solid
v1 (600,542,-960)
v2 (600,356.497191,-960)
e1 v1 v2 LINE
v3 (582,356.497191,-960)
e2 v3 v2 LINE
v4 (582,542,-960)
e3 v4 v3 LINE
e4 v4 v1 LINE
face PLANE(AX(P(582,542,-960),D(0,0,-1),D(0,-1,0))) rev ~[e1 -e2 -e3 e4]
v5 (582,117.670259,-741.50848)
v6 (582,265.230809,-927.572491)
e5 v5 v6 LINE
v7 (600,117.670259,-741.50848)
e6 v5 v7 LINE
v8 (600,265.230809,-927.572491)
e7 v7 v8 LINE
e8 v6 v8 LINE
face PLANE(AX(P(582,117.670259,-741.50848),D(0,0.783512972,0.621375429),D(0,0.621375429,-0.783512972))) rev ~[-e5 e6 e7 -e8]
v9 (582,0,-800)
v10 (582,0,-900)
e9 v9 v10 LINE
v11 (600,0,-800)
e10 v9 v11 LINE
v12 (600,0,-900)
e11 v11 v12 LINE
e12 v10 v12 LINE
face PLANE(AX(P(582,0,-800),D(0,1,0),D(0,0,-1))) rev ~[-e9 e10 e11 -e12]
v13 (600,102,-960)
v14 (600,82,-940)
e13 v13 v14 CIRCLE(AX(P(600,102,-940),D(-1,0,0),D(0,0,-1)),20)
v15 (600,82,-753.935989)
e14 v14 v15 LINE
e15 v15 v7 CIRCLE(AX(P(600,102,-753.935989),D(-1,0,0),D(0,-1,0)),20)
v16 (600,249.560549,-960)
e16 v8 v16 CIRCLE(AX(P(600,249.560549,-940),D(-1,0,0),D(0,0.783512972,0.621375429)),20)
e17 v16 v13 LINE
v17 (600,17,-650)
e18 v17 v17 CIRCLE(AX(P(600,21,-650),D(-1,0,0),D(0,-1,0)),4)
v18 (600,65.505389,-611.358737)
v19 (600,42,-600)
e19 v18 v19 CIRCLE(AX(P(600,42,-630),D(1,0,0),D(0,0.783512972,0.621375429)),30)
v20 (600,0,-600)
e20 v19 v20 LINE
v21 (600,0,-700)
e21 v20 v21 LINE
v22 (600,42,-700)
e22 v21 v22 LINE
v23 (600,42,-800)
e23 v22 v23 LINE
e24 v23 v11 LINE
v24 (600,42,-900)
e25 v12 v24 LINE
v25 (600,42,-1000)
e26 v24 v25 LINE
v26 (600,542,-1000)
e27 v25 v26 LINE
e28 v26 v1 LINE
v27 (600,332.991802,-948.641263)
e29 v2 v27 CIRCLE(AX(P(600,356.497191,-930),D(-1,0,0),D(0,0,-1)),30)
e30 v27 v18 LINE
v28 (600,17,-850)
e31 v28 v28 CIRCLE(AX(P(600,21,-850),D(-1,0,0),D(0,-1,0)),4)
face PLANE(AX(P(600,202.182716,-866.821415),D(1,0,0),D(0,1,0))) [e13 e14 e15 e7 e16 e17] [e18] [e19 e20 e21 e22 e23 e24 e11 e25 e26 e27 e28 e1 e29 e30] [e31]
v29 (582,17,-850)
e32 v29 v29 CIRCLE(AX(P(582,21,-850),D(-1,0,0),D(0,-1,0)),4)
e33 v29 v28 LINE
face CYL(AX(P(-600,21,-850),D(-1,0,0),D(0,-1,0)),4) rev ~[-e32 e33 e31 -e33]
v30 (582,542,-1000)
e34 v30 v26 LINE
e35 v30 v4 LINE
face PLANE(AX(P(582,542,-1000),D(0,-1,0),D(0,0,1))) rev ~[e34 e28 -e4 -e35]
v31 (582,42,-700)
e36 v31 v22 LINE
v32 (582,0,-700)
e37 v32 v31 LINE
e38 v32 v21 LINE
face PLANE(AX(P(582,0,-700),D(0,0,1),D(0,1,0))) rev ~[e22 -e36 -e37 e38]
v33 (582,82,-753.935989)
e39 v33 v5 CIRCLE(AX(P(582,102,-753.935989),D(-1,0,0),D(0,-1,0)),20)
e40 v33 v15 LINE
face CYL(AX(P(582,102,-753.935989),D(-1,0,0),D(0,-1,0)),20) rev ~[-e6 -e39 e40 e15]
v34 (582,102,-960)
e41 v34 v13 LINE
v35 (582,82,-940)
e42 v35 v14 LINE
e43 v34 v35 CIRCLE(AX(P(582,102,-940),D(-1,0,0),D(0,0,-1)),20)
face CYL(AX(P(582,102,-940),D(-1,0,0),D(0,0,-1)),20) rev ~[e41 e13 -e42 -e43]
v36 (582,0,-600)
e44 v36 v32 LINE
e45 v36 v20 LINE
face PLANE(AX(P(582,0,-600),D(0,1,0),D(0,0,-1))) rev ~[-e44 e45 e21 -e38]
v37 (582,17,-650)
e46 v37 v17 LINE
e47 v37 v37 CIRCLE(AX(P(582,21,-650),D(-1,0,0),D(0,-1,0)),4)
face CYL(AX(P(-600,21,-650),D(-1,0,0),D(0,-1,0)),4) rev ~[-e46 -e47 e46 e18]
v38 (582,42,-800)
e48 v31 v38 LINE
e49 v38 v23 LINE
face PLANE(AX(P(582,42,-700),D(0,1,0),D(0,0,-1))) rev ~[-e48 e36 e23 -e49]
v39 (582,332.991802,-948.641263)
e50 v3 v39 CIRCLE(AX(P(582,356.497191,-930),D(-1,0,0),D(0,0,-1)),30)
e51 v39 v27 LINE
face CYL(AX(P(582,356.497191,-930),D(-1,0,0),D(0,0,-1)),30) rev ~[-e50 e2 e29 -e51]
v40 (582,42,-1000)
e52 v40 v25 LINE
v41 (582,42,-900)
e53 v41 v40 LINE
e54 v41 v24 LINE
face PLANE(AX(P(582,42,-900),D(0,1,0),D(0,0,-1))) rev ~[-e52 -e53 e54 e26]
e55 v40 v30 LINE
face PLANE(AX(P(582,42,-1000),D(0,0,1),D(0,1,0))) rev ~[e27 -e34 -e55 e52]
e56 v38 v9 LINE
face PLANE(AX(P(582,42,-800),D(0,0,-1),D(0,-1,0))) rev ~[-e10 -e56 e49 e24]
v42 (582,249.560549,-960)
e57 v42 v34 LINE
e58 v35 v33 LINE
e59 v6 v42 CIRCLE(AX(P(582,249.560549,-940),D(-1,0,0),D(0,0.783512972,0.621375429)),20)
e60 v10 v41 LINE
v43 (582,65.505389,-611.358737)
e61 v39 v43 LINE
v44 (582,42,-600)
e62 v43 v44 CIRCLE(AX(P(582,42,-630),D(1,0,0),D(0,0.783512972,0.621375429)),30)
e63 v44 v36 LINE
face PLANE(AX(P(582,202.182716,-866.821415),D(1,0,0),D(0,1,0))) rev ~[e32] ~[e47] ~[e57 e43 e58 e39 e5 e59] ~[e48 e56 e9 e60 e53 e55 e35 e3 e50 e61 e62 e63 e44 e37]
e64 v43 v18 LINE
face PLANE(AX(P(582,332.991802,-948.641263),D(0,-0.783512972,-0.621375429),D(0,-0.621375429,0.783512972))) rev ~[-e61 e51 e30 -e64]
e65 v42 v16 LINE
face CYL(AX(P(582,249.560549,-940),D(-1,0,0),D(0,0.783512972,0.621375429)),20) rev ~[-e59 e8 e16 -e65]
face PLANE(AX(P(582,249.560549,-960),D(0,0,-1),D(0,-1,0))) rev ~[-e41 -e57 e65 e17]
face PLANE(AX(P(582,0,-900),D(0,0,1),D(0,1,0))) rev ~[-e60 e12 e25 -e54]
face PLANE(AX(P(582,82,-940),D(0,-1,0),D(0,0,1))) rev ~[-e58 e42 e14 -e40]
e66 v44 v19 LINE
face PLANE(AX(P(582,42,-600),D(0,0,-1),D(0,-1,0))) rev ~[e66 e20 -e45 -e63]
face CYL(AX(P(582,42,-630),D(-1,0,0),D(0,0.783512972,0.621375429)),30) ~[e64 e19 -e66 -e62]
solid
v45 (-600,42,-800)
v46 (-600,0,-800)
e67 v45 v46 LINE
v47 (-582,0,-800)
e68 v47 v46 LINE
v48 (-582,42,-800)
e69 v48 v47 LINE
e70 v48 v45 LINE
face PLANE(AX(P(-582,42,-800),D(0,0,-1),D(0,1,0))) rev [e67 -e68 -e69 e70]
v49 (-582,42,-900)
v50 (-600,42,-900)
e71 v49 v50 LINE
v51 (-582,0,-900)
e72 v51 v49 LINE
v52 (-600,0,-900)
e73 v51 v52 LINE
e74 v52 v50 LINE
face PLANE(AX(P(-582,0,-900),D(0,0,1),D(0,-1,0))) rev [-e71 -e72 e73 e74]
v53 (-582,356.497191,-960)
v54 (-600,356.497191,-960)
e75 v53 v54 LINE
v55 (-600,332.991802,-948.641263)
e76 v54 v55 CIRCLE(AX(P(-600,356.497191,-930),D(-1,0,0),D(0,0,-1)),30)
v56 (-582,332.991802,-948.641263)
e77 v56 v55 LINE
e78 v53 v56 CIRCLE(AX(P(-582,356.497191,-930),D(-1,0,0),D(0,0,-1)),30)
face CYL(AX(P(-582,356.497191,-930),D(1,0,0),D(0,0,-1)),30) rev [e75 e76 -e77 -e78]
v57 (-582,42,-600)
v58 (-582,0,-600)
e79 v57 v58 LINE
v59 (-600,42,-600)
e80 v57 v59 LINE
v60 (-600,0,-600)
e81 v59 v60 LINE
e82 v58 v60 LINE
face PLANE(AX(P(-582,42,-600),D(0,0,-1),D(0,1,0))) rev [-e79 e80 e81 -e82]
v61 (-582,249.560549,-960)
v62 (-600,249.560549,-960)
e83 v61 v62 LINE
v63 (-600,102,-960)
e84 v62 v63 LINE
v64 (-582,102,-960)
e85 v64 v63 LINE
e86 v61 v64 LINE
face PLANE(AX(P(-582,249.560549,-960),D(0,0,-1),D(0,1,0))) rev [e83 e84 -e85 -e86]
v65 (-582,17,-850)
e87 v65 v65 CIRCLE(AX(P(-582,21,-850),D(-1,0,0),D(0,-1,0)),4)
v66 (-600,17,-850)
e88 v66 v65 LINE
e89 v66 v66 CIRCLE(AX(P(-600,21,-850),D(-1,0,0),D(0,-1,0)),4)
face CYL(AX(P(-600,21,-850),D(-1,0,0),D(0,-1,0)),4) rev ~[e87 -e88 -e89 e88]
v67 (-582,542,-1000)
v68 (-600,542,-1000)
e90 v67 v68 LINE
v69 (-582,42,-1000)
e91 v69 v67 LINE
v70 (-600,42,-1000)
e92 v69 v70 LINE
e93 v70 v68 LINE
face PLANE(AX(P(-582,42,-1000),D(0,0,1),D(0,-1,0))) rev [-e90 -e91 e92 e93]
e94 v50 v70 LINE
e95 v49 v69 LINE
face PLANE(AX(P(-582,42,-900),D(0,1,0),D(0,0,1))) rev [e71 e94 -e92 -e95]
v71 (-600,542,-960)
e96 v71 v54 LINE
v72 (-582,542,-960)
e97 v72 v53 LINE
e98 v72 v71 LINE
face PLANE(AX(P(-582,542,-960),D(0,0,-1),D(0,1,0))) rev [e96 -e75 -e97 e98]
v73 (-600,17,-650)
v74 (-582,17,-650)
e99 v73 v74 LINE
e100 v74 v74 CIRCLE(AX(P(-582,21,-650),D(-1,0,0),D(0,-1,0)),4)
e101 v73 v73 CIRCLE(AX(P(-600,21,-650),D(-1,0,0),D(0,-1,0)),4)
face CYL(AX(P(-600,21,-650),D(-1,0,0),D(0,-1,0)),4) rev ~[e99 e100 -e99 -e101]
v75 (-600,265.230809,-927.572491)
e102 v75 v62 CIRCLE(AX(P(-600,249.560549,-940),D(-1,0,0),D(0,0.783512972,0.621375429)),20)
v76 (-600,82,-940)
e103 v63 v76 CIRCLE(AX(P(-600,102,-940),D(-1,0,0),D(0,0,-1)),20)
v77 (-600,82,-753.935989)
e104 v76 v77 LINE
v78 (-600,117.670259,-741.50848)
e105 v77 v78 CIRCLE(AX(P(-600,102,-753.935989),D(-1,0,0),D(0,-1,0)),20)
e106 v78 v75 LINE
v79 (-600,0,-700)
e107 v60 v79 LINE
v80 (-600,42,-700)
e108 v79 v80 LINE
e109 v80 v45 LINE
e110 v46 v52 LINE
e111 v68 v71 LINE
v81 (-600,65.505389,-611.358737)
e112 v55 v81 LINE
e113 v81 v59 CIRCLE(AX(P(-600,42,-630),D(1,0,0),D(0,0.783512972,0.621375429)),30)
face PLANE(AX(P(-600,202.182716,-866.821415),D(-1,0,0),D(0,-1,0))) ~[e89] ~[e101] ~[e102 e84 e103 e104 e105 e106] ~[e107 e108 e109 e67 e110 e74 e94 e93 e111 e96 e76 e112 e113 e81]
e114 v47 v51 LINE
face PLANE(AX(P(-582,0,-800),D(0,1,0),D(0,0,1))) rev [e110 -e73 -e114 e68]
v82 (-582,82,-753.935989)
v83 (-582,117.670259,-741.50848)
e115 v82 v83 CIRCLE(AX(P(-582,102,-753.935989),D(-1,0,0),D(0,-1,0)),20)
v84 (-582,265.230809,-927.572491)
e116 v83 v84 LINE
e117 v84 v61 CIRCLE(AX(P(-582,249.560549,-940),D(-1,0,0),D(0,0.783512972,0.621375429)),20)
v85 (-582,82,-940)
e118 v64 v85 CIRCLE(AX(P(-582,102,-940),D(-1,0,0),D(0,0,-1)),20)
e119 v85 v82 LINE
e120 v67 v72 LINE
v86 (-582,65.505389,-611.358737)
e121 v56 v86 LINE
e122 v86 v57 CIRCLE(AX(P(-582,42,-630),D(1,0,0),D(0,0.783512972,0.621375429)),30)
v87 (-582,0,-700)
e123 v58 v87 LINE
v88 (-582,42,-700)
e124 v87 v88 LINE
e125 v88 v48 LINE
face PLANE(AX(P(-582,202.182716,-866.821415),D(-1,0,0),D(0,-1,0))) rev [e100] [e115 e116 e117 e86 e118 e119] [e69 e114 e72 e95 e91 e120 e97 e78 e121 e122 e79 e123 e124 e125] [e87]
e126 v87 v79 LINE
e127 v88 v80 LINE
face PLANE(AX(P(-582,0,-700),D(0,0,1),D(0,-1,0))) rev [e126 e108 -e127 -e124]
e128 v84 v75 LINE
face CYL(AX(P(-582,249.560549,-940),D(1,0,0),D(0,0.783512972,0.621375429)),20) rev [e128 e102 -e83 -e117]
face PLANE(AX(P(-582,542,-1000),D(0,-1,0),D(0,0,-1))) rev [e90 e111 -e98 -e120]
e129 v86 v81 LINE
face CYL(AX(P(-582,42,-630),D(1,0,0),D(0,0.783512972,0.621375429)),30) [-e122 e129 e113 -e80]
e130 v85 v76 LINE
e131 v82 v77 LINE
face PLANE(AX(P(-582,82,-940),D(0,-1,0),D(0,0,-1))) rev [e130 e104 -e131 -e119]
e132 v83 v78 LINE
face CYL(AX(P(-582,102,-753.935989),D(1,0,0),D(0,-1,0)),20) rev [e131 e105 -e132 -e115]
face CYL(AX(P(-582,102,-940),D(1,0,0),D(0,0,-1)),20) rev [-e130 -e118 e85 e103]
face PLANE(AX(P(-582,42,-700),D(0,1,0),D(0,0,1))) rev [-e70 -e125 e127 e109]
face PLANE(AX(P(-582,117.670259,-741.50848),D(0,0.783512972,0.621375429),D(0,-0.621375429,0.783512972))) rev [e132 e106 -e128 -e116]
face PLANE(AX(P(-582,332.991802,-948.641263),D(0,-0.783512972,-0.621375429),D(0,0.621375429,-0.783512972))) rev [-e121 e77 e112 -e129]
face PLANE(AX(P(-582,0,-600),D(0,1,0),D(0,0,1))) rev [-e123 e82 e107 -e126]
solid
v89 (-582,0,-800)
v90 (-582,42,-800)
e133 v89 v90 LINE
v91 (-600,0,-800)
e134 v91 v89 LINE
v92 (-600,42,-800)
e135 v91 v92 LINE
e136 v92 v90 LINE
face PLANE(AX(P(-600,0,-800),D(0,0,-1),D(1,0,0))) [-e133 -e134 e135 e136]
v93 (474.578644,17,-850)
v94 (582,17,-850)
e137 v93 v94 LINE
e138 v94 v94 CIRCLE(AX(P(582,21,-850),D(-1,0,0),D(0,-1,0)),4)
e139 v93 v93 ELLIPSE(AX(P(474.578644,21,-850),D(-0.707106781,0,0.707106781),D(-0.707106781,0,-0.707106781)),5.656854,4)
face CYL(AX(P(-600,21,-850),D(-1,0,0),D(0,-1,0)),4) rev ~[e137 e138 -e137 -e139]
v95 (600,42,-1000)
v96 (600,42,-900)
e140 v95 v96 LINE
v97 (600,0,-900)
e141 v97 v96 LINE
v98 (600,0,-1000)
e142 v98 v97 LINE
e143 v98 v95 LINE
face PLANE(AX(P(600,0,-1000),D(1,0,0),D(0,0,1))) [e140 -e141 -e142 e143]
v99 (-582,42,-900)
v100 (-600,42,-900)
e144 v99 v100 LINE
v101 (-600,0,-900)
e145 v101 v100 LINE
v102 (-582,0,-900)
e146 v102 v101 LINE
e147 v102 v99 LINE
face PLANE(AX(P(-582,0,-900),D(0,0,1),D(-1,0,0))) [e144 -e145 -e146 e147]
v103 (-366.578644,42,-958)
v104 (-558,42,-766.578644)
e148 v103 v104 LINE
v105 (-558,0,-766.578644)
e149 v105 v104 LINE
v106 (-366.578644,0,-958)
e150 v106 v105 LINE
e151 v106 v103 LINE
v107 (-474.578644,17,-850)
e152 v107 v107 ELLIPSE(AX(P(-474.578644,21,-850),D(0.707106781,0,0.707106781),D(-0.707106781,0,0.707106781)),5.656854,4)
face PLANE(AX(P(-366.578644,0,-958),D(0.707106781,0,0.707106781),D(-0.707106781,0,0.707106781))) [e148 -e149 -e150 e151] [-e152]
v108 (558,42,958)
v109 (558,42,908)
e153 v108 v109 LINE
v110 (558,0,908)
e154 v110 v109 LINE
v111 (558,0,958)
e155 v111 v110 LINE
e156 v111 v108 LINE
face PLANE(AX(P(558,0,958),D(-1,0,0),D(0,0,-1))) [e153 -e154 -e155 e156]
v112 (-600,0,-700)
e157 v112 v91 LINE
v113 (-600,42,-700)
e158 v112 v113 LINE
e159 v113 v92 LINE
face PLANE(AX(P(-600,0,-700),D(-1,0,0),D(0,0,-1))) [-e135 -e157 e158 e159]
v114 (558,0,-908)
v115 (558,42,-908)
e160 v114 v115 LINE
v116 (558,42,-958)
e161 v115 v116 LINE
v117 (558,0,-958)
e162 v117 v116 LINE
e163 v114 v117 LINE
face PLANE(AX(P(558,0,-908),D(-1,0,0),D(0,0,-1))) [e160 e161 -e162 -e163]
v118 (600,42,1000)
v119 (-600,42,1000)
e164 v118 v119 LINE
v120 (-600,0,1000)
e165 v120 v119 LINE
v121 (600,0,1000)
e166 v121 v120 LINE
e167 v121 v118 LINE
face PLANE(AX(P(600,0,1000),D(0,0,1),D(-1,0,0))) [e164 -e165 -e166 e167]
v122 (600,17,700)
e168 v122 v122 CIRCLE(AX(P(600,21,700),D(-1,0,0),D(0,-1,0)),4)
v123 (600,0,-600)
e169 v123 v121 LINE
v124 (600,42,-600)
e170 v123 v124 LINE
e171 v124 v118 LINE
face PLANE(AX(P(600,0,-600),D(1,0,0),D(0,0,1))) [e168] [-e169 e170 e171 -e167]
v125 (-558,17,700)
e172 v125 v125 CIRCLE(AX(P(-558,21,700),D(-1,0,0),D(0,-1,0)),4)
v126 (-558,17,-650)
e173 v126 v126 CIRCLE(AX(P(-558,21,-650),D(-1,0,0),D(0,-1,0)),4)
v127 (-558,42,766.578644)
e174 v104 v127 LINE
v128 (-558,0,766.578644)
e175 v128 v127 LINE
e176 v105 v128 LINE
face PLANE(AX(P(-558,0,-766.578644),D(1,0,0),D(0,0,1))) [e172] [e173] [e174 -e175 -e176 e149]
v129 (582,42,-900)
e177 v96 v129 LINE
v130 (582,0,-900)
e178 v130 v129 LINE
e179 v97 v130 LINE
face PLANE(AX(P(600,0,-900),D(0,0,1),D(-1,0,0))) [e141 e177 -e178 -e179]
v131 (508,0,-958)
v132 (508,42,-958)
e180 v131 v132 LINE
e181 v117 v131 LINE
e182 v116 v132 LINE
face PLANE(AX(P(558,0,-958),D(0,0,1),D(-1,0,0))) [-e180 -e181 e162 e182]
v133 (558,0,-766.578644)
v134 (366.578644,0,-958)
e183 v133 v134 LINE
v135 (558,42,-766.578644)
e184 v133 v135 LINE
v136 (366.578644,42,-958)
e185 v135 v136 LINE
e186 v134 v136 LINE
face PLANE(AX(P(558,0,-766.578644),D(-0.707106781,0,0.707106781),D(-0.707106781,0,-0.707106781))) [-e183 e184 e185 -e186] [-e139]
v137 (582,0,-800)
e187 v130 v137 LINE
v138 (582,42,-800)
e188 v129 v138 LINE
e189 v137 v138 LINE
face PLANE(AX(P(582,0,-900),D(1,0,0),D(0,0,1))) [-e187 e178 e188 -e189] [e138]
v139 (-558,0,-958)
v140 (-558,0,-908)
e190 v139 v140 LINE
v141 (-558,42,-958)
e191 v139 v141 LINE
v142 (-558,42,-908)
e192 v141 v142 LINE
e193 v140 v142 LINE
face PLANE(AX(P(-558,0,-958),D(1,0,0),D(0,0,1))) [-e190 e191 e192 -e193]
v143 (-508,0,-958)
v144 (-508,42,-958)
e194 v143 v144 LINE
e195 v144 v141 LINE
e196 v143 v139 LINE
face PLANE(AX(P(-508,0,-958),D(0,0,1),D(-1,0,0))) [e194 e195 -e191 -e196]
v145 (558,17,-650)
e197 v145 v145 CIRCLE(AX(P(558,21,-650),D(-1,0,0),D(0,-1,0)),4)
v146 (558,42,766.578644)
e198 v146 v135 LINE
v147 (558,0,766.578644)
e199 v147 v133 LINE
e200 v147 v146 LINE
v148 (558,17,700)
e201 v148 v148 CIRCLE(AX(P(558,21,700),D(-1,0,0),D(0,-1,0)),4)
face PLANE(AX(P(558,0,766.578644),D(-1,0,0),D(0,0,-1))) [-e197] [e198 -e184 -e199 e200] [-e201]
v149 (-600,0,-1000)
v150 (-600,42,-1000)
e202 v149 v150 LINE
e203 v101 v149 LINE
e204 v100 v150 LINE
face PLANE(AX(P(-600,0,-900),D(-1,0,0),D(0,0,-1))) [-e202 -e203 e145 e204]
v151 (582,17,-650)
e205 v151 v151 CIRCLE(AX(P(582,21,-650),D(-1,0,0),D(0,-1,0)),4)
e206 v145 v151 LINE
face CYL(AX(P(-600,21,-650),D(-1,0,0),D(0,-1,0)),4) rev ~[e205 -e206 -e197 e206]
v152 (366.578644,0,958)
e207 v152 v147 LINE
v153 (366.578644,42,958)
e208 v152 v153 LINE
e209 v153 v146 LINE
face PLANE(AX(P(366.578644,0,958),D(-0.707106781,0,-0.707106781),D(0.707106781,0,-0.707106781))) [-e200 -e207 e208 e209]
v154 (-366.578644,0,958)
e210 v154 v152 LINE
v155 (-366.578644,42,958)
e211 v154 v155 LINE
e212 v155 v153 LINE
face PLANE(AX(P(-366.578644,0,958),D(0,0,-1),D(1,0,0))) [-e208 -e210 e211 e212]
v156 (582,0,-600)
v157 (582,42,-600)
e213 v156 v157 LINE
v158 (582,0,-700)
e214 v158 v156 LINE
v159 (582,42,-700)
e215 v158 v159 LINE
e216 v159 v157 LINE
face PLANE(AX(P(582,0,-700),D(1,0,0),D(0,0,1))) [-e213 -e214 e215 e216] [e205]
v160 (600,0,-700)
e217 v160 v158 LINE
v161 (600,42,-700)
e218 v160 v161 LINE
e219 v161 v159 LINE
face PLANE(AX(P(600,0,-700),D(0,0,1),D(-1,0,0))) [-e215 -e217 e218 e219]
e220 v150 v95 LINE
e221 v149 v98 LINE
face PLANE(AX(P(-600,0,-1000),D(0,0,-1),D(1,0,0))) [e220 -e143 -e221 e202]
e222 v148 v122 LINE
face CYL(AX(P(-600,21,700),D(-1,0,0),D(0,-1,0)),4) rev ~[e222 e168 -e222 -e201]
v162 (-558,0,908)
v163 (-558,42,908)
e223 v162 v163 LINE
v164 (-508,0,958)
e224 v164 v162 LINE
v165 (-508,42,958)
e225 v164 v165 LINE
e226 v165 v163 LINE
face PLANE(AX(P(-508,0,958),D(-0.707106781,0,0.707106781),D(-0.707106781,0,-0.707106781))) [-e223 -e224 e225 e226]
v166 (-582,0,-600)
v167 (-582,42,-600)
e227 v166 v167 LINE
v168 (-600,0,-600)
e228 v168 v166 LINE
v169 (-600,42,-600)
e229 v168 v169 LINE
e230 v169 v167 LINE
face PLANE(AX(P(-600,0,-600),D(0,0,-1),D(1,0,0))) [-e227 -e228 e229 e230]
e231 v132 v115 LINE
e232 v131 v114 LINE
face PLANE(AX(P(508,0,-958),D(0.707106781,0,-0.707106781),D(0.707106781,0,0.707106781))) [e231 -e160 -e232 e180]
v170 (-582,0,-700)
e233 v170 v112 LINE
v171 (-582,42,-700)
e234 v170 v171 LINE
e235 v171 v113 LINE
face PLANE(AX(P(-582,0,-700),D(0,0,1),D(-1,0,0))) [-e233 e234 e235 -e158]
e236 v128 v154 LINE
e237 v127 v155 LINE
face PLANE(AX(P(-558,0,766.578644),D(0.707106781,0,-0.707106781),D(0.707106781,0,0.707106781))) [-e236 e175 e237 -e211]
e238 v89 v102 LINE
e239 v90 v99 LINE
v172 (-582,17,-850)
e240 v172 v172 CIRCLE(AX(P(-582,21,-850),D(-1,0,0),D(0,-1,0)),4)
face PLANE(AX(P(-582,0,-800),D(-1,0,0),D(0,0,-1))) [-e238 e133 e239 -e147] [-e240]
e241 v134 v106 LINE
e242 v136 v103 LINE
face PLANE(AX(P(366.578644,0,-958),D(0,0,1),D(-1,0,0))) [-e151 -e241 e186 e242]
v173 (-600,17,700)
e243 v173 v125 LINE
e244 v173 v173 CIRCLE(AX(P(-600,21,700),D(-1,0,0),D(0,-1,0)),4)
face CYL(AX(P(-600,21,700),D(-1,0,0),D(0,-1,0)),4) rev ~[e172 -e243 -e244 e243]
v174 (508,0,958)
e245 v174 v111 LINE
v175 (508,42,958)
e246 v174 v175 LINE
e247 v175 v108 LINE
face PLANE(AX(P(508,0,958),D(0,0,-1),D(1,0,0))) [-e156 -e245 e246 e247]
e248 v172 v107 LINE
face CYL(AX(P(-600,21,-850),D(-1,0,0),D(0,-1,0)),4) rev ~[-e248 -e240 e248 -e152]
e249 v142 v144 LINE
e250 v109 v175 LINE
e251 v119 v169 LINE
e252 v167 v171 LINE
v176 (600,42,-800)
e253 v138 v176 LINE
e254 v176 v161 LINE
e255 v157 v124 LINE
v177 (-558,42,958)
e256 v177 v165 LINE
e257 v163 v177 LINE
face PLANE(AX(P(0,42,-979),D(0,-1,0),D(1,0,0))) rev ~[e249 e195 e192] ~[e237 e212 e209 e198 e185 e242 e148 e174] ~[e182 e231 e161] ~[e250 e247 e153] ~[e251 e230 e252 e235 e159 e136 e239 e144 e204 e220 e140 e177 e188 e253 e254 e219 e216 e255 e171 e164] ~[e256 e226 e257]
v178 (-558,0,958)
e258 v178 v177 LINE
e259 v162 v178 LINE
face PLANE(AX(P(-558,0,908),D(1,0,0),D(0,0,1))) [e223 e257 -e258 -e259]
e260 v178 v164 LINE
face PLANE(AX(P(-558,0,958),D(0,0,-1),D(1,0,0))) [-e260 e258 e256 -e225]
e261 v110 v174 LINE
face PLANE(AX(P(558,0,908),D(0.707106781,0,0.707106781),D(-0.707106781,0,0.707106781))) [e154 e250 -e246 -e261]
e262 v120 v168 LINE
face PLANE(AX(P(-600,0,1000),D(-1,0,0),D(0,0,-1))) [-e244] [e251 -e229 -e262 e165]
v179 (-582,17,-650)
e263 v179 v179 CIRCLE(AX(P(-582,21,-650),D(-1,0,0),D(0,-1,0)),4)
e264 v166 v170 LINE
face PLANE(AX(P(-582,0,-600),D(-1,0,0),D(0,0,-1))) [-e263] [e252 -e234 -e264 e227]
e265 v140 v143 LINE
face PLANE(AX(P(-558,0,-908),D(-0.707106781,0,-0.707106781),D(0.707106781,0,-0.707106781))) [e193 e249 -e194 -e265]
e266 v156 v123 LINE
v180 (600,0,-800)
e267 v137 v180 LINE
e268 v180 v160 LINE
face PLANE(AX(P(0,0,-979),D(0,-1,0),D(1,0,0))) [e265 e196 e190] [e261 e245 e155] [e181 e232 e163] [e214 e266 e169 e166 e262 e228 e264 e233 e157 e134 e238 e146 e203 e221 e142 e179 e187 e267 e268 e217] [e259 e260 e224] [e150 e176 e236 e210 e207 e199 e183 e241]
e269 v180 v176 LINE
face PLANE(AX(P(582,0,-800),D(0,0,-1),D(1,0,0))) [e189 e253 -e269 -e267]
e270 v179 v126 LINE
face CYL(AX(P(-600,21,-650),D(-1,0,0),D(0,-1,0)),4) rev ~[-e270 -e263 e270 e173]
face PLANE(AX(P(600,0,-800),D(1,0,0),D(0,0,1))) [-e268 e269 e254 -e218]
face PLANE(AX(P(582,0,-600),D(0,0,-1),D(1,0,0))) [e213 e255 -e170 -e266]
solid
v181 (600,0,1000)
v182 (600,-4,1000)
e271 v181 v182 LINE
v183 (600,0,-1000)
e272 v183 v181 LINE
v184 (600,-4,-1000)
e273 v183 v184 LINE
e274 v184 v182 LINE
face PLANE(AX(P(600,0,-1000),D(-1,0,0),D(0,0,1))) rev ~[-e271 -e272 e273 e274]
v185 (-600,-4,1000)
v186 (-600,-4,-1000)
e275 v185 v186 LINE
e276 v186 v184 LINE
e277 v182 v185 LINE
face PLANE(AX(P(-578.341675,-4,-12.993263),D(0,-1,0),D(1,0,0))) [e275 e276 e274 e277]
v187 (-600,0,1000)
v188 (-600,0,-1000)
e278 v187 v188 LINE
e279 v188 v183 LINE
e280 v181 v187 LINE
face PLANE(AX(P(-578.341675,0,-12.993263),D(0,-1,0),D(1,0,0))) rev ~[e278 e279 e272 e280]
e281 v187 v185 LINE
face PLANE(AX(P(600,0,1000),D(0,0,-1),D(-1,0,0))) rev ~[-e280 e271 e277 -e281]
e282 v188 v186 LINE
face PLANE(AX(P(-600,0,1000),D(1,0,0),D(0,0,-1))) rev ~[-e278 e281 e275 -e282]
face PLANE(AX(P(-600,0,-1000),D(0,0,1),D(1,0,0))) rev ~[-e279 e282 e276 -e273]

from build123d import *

# Parameters (mm, degrees)
F3_W      = 18
F3_H      = 100
F4_DEPTH  = 4
F5_DEPTH  = 42
F8_DEPTH  = 18
F6_R      = 4
F10_DEPTH = 1200


with BuildPart() as f4:
    # F3 (on Front) → F4 (new body)
    with BuildSketch(Plane.XZ):
        Polygon((-600, -900), (-600, -1000), (-558, -1000), (-558, -958), (-558, -908), (-558, -766.5786437627), (-558, 766.5786437627), (-558, 908), (-558, 958), (-558, 1000), (-600, 1000), (-600, -600), (-582, -600), (-582, -700), (-600, -700), (-600, -800), (-582, -800), (-582, -900), align=None)
        Polygon((-558, -958), (-558, -1000), (558, -1000), (558, -958), (508, -958), (366.5786437627, -958), (-366.5786437627, -958), (-508, -958), align=None)
        with Locations((-591, -850)):
            Rectangle(F3_W, F3_H)
        Polygon((558, -958), (558, -1000), (600, -1000), (600, -900), (582, -900), (582, -800), (600, -800), (600, -700), (582, -700), (582, -600), (600, -600), (600, 1000), (558, 1000), (558, 958), (558, 908), (558, 766.5786437627), (558, -766.5786437627), (558, -908), align=None)
        with Locations((-591, -650)):
            Rectangle(F3_W, F3_H)
        with Locations((591, -850)):
            Rectangle(F3_W, F3_H)
        with Locations((591, -650)):
            Rectangle(F3_W, F3_H)
        Polygon((-508, 958), (-366.5786437627, 958), (366.5786437627, 958), (508, 958), (558, 958), (558, 1000), (-558, 1000), (-558, 958), align=None)
        Polygon((-558, 958), (-558, 908), (-508, 958), align=None)
        Polygon((-558, 908), (-558, 766.5786437627), (-366.5786437627, 958), (-508, 958), align=None)
        Polygon((-558, 766.5786437627), (-558, -766.5786437627), (-366.5786437627, -958), (366.5786437627, -958), (558, -766.5786437627), (558, 766.5786437627), (366.5786437627, 958), (-366.5786437627, 958), align=None)
        Polygon((366.5786437627, 958), (558, 766.5786437627), (558, 908), (508, 958), align=None)
        Polygon((508, 958), (558, 908), (558, 958), align=None)
        Polygon((508, -958), (558, -908), (558, -766.5786437627), (366.5786437627, -958), align=None)
        Polygon((508, -958), (558, -958), (558, -908), align=None)
        Polygon((-558, -766.5786437627), (-558, -908), (-508, -958), (-366.5786437627, -958), align=None)
        Polygon((-558, -908), (-558, -958), (-508, -958), align=None)
    extrude(amount=F4_DEPTH)


with BuildPart() as f5:
    # F3 (on Front) → F5 (new body)
    with BuildSketch(Plane.XZ):
        Polygon((-558, -958), (-558, -1000), (558, -1000), (558, -958), (508, -958), (366.5786437627, -958), (-366.5786437627, -958), (-508, -958), align=None)
        Polygon((-508, 958), (-366.5786437627, 958), (366.5786437627, 958), (508, 958), (558, 958), (558, 1000), (-558, 1000), (-558, 958), align=None)
        Polygon((-600, -900), (-600, -1000), (-558, -1000), (-558, -958), (-558, -908), (-558, -766.5786437627), (-558, 766.5786437627), (-558, 908), (-558, 958), (-558, 1000), (-600, 1000), (-600, -600), (-582, -600), (-582, -700), (-600, -700), (-600, -800), (-582, -800), (-582, -900), align=None)
        Polygon((558, -958), (558, -1000), (600, -1000), (600, -900), (582, -900), (582, -800), (600, -800), (600, -700), (582, -700), (582, -600), (600, -600), (600, 1000), (558, 1000), (558, 958), (558, 908), (558, 766.5786437627), (558, -766.5786437627), (558, -908), align=None)
        Polygon((-558, 908), (-558, 766.5786437627), (-366.5786437627, 958), (-508, 958), align=None)
        Polygon((366.5786437627, 958), (558, 766.5786437627), (558, 908), (508, 958), align=None)
        Polygon((508, -958), (558, -908), (558, -766.5786437627), (366.5786437627, -958), align=None)
        Polygon((-558, -766.5786437627), (-558, -908), (-508, -958), (-366.5786437627, -958), align=None)
    extrude(amount=-F5_DEPTH)


with BuildPart() as f8:
    # F7 (on face) → F8 (new body)
    with BuildSketch(Plane.YZ.offset(582)):
        with BuildLine():
            Line((42, -700), (42, -800))
            Line((42, -800), (0, -800))
            Line((0, -800), (0, -900))
            Line((0, -900), (42, -900))
            Line((42, -900), (42, -1000))
            Line((42, -1000), (542, -1000))
            Line((542, -1000), (542, -960))
            Line((542, -960), (356.4971909226, -960))
            ThreePointArc((356.4971909226, -960), (343.4441814195, -957.011459474), (332.9918017756, -948.6412628609))
            Line((332.9918017756, -948.6412628609), (65.505389147, -611.3587371391))
            ThreePointArc((65.505389147, -611.3587371391), (55.053009503, -602.988540526), (42, -600))
            Line((42, -600), (0, -600))
            Line((0, -600), (0, -700))
            Line((0, -700), (42, -700))
        make_face()
        with BuildLine():
            Line((249.560549471, -960), (102, -960))
            ThreePointArc((102, -960), (87.8578643763, -954.1421356237), (82, -940))
            Line((82, -940), (82, -753.9359889971))
            ThreePointArc((82, -753.9359889971), (95.4199235805, -735.0494171982), (117.6702594313, -741.5084804231))
            Line((117.6702594313, -741.5084804231), (265.2308089023, -927.5724914261))
            ThreePointArc((265.2308089023, -927.5724914261), (267.5681891203, -948.7020063354), (249.560549471, -960))
        make_face(mode=Mode.SUBTRACT)
    extrude(amount=F8_DEPTH)


with BuildPart() as f9_1:
    # F9: instance of F8
    add(f8.part.mirror(Plane.YZ))


with BuildPart() as f10_tool:
    # F6 (on face) → F10 (new body)
    with BuildSketch(Plane(origin=(-600, 0, 0), x_dir=(0, -1, 0), z_dir=(-1, 0, 0))):
        with Locations((-21, 700)):
            Circle(F6_R)
        with Locations((-21, -650)):
            Circle(F6_R)
        with Locations((-21, -850)):
            Circle(F6_R)
    extrude(amount=-F10_DEPTH)


with BuildPart() as f5_1:
    add(f5.part)

    # F10: cut by f10_tool
    add(f10_tool.part, mode=Mode.SUBTRACT)


with BuildPart() as f8_1:
    add(f8.part)

    # F10: cut by f10_tool
    add(f10_tool.part, mode=Mode.SUBTRACT)


with BuildPart() as f9_1_1:
    add(f9_1.part)

    # F10: cut by f10_tool
    add(f10_tool.part, mode=Mode.SUBTRACT)


solid = Compound([f4.part, f5_1.part, f8_1.part, f9_1_1.part])
